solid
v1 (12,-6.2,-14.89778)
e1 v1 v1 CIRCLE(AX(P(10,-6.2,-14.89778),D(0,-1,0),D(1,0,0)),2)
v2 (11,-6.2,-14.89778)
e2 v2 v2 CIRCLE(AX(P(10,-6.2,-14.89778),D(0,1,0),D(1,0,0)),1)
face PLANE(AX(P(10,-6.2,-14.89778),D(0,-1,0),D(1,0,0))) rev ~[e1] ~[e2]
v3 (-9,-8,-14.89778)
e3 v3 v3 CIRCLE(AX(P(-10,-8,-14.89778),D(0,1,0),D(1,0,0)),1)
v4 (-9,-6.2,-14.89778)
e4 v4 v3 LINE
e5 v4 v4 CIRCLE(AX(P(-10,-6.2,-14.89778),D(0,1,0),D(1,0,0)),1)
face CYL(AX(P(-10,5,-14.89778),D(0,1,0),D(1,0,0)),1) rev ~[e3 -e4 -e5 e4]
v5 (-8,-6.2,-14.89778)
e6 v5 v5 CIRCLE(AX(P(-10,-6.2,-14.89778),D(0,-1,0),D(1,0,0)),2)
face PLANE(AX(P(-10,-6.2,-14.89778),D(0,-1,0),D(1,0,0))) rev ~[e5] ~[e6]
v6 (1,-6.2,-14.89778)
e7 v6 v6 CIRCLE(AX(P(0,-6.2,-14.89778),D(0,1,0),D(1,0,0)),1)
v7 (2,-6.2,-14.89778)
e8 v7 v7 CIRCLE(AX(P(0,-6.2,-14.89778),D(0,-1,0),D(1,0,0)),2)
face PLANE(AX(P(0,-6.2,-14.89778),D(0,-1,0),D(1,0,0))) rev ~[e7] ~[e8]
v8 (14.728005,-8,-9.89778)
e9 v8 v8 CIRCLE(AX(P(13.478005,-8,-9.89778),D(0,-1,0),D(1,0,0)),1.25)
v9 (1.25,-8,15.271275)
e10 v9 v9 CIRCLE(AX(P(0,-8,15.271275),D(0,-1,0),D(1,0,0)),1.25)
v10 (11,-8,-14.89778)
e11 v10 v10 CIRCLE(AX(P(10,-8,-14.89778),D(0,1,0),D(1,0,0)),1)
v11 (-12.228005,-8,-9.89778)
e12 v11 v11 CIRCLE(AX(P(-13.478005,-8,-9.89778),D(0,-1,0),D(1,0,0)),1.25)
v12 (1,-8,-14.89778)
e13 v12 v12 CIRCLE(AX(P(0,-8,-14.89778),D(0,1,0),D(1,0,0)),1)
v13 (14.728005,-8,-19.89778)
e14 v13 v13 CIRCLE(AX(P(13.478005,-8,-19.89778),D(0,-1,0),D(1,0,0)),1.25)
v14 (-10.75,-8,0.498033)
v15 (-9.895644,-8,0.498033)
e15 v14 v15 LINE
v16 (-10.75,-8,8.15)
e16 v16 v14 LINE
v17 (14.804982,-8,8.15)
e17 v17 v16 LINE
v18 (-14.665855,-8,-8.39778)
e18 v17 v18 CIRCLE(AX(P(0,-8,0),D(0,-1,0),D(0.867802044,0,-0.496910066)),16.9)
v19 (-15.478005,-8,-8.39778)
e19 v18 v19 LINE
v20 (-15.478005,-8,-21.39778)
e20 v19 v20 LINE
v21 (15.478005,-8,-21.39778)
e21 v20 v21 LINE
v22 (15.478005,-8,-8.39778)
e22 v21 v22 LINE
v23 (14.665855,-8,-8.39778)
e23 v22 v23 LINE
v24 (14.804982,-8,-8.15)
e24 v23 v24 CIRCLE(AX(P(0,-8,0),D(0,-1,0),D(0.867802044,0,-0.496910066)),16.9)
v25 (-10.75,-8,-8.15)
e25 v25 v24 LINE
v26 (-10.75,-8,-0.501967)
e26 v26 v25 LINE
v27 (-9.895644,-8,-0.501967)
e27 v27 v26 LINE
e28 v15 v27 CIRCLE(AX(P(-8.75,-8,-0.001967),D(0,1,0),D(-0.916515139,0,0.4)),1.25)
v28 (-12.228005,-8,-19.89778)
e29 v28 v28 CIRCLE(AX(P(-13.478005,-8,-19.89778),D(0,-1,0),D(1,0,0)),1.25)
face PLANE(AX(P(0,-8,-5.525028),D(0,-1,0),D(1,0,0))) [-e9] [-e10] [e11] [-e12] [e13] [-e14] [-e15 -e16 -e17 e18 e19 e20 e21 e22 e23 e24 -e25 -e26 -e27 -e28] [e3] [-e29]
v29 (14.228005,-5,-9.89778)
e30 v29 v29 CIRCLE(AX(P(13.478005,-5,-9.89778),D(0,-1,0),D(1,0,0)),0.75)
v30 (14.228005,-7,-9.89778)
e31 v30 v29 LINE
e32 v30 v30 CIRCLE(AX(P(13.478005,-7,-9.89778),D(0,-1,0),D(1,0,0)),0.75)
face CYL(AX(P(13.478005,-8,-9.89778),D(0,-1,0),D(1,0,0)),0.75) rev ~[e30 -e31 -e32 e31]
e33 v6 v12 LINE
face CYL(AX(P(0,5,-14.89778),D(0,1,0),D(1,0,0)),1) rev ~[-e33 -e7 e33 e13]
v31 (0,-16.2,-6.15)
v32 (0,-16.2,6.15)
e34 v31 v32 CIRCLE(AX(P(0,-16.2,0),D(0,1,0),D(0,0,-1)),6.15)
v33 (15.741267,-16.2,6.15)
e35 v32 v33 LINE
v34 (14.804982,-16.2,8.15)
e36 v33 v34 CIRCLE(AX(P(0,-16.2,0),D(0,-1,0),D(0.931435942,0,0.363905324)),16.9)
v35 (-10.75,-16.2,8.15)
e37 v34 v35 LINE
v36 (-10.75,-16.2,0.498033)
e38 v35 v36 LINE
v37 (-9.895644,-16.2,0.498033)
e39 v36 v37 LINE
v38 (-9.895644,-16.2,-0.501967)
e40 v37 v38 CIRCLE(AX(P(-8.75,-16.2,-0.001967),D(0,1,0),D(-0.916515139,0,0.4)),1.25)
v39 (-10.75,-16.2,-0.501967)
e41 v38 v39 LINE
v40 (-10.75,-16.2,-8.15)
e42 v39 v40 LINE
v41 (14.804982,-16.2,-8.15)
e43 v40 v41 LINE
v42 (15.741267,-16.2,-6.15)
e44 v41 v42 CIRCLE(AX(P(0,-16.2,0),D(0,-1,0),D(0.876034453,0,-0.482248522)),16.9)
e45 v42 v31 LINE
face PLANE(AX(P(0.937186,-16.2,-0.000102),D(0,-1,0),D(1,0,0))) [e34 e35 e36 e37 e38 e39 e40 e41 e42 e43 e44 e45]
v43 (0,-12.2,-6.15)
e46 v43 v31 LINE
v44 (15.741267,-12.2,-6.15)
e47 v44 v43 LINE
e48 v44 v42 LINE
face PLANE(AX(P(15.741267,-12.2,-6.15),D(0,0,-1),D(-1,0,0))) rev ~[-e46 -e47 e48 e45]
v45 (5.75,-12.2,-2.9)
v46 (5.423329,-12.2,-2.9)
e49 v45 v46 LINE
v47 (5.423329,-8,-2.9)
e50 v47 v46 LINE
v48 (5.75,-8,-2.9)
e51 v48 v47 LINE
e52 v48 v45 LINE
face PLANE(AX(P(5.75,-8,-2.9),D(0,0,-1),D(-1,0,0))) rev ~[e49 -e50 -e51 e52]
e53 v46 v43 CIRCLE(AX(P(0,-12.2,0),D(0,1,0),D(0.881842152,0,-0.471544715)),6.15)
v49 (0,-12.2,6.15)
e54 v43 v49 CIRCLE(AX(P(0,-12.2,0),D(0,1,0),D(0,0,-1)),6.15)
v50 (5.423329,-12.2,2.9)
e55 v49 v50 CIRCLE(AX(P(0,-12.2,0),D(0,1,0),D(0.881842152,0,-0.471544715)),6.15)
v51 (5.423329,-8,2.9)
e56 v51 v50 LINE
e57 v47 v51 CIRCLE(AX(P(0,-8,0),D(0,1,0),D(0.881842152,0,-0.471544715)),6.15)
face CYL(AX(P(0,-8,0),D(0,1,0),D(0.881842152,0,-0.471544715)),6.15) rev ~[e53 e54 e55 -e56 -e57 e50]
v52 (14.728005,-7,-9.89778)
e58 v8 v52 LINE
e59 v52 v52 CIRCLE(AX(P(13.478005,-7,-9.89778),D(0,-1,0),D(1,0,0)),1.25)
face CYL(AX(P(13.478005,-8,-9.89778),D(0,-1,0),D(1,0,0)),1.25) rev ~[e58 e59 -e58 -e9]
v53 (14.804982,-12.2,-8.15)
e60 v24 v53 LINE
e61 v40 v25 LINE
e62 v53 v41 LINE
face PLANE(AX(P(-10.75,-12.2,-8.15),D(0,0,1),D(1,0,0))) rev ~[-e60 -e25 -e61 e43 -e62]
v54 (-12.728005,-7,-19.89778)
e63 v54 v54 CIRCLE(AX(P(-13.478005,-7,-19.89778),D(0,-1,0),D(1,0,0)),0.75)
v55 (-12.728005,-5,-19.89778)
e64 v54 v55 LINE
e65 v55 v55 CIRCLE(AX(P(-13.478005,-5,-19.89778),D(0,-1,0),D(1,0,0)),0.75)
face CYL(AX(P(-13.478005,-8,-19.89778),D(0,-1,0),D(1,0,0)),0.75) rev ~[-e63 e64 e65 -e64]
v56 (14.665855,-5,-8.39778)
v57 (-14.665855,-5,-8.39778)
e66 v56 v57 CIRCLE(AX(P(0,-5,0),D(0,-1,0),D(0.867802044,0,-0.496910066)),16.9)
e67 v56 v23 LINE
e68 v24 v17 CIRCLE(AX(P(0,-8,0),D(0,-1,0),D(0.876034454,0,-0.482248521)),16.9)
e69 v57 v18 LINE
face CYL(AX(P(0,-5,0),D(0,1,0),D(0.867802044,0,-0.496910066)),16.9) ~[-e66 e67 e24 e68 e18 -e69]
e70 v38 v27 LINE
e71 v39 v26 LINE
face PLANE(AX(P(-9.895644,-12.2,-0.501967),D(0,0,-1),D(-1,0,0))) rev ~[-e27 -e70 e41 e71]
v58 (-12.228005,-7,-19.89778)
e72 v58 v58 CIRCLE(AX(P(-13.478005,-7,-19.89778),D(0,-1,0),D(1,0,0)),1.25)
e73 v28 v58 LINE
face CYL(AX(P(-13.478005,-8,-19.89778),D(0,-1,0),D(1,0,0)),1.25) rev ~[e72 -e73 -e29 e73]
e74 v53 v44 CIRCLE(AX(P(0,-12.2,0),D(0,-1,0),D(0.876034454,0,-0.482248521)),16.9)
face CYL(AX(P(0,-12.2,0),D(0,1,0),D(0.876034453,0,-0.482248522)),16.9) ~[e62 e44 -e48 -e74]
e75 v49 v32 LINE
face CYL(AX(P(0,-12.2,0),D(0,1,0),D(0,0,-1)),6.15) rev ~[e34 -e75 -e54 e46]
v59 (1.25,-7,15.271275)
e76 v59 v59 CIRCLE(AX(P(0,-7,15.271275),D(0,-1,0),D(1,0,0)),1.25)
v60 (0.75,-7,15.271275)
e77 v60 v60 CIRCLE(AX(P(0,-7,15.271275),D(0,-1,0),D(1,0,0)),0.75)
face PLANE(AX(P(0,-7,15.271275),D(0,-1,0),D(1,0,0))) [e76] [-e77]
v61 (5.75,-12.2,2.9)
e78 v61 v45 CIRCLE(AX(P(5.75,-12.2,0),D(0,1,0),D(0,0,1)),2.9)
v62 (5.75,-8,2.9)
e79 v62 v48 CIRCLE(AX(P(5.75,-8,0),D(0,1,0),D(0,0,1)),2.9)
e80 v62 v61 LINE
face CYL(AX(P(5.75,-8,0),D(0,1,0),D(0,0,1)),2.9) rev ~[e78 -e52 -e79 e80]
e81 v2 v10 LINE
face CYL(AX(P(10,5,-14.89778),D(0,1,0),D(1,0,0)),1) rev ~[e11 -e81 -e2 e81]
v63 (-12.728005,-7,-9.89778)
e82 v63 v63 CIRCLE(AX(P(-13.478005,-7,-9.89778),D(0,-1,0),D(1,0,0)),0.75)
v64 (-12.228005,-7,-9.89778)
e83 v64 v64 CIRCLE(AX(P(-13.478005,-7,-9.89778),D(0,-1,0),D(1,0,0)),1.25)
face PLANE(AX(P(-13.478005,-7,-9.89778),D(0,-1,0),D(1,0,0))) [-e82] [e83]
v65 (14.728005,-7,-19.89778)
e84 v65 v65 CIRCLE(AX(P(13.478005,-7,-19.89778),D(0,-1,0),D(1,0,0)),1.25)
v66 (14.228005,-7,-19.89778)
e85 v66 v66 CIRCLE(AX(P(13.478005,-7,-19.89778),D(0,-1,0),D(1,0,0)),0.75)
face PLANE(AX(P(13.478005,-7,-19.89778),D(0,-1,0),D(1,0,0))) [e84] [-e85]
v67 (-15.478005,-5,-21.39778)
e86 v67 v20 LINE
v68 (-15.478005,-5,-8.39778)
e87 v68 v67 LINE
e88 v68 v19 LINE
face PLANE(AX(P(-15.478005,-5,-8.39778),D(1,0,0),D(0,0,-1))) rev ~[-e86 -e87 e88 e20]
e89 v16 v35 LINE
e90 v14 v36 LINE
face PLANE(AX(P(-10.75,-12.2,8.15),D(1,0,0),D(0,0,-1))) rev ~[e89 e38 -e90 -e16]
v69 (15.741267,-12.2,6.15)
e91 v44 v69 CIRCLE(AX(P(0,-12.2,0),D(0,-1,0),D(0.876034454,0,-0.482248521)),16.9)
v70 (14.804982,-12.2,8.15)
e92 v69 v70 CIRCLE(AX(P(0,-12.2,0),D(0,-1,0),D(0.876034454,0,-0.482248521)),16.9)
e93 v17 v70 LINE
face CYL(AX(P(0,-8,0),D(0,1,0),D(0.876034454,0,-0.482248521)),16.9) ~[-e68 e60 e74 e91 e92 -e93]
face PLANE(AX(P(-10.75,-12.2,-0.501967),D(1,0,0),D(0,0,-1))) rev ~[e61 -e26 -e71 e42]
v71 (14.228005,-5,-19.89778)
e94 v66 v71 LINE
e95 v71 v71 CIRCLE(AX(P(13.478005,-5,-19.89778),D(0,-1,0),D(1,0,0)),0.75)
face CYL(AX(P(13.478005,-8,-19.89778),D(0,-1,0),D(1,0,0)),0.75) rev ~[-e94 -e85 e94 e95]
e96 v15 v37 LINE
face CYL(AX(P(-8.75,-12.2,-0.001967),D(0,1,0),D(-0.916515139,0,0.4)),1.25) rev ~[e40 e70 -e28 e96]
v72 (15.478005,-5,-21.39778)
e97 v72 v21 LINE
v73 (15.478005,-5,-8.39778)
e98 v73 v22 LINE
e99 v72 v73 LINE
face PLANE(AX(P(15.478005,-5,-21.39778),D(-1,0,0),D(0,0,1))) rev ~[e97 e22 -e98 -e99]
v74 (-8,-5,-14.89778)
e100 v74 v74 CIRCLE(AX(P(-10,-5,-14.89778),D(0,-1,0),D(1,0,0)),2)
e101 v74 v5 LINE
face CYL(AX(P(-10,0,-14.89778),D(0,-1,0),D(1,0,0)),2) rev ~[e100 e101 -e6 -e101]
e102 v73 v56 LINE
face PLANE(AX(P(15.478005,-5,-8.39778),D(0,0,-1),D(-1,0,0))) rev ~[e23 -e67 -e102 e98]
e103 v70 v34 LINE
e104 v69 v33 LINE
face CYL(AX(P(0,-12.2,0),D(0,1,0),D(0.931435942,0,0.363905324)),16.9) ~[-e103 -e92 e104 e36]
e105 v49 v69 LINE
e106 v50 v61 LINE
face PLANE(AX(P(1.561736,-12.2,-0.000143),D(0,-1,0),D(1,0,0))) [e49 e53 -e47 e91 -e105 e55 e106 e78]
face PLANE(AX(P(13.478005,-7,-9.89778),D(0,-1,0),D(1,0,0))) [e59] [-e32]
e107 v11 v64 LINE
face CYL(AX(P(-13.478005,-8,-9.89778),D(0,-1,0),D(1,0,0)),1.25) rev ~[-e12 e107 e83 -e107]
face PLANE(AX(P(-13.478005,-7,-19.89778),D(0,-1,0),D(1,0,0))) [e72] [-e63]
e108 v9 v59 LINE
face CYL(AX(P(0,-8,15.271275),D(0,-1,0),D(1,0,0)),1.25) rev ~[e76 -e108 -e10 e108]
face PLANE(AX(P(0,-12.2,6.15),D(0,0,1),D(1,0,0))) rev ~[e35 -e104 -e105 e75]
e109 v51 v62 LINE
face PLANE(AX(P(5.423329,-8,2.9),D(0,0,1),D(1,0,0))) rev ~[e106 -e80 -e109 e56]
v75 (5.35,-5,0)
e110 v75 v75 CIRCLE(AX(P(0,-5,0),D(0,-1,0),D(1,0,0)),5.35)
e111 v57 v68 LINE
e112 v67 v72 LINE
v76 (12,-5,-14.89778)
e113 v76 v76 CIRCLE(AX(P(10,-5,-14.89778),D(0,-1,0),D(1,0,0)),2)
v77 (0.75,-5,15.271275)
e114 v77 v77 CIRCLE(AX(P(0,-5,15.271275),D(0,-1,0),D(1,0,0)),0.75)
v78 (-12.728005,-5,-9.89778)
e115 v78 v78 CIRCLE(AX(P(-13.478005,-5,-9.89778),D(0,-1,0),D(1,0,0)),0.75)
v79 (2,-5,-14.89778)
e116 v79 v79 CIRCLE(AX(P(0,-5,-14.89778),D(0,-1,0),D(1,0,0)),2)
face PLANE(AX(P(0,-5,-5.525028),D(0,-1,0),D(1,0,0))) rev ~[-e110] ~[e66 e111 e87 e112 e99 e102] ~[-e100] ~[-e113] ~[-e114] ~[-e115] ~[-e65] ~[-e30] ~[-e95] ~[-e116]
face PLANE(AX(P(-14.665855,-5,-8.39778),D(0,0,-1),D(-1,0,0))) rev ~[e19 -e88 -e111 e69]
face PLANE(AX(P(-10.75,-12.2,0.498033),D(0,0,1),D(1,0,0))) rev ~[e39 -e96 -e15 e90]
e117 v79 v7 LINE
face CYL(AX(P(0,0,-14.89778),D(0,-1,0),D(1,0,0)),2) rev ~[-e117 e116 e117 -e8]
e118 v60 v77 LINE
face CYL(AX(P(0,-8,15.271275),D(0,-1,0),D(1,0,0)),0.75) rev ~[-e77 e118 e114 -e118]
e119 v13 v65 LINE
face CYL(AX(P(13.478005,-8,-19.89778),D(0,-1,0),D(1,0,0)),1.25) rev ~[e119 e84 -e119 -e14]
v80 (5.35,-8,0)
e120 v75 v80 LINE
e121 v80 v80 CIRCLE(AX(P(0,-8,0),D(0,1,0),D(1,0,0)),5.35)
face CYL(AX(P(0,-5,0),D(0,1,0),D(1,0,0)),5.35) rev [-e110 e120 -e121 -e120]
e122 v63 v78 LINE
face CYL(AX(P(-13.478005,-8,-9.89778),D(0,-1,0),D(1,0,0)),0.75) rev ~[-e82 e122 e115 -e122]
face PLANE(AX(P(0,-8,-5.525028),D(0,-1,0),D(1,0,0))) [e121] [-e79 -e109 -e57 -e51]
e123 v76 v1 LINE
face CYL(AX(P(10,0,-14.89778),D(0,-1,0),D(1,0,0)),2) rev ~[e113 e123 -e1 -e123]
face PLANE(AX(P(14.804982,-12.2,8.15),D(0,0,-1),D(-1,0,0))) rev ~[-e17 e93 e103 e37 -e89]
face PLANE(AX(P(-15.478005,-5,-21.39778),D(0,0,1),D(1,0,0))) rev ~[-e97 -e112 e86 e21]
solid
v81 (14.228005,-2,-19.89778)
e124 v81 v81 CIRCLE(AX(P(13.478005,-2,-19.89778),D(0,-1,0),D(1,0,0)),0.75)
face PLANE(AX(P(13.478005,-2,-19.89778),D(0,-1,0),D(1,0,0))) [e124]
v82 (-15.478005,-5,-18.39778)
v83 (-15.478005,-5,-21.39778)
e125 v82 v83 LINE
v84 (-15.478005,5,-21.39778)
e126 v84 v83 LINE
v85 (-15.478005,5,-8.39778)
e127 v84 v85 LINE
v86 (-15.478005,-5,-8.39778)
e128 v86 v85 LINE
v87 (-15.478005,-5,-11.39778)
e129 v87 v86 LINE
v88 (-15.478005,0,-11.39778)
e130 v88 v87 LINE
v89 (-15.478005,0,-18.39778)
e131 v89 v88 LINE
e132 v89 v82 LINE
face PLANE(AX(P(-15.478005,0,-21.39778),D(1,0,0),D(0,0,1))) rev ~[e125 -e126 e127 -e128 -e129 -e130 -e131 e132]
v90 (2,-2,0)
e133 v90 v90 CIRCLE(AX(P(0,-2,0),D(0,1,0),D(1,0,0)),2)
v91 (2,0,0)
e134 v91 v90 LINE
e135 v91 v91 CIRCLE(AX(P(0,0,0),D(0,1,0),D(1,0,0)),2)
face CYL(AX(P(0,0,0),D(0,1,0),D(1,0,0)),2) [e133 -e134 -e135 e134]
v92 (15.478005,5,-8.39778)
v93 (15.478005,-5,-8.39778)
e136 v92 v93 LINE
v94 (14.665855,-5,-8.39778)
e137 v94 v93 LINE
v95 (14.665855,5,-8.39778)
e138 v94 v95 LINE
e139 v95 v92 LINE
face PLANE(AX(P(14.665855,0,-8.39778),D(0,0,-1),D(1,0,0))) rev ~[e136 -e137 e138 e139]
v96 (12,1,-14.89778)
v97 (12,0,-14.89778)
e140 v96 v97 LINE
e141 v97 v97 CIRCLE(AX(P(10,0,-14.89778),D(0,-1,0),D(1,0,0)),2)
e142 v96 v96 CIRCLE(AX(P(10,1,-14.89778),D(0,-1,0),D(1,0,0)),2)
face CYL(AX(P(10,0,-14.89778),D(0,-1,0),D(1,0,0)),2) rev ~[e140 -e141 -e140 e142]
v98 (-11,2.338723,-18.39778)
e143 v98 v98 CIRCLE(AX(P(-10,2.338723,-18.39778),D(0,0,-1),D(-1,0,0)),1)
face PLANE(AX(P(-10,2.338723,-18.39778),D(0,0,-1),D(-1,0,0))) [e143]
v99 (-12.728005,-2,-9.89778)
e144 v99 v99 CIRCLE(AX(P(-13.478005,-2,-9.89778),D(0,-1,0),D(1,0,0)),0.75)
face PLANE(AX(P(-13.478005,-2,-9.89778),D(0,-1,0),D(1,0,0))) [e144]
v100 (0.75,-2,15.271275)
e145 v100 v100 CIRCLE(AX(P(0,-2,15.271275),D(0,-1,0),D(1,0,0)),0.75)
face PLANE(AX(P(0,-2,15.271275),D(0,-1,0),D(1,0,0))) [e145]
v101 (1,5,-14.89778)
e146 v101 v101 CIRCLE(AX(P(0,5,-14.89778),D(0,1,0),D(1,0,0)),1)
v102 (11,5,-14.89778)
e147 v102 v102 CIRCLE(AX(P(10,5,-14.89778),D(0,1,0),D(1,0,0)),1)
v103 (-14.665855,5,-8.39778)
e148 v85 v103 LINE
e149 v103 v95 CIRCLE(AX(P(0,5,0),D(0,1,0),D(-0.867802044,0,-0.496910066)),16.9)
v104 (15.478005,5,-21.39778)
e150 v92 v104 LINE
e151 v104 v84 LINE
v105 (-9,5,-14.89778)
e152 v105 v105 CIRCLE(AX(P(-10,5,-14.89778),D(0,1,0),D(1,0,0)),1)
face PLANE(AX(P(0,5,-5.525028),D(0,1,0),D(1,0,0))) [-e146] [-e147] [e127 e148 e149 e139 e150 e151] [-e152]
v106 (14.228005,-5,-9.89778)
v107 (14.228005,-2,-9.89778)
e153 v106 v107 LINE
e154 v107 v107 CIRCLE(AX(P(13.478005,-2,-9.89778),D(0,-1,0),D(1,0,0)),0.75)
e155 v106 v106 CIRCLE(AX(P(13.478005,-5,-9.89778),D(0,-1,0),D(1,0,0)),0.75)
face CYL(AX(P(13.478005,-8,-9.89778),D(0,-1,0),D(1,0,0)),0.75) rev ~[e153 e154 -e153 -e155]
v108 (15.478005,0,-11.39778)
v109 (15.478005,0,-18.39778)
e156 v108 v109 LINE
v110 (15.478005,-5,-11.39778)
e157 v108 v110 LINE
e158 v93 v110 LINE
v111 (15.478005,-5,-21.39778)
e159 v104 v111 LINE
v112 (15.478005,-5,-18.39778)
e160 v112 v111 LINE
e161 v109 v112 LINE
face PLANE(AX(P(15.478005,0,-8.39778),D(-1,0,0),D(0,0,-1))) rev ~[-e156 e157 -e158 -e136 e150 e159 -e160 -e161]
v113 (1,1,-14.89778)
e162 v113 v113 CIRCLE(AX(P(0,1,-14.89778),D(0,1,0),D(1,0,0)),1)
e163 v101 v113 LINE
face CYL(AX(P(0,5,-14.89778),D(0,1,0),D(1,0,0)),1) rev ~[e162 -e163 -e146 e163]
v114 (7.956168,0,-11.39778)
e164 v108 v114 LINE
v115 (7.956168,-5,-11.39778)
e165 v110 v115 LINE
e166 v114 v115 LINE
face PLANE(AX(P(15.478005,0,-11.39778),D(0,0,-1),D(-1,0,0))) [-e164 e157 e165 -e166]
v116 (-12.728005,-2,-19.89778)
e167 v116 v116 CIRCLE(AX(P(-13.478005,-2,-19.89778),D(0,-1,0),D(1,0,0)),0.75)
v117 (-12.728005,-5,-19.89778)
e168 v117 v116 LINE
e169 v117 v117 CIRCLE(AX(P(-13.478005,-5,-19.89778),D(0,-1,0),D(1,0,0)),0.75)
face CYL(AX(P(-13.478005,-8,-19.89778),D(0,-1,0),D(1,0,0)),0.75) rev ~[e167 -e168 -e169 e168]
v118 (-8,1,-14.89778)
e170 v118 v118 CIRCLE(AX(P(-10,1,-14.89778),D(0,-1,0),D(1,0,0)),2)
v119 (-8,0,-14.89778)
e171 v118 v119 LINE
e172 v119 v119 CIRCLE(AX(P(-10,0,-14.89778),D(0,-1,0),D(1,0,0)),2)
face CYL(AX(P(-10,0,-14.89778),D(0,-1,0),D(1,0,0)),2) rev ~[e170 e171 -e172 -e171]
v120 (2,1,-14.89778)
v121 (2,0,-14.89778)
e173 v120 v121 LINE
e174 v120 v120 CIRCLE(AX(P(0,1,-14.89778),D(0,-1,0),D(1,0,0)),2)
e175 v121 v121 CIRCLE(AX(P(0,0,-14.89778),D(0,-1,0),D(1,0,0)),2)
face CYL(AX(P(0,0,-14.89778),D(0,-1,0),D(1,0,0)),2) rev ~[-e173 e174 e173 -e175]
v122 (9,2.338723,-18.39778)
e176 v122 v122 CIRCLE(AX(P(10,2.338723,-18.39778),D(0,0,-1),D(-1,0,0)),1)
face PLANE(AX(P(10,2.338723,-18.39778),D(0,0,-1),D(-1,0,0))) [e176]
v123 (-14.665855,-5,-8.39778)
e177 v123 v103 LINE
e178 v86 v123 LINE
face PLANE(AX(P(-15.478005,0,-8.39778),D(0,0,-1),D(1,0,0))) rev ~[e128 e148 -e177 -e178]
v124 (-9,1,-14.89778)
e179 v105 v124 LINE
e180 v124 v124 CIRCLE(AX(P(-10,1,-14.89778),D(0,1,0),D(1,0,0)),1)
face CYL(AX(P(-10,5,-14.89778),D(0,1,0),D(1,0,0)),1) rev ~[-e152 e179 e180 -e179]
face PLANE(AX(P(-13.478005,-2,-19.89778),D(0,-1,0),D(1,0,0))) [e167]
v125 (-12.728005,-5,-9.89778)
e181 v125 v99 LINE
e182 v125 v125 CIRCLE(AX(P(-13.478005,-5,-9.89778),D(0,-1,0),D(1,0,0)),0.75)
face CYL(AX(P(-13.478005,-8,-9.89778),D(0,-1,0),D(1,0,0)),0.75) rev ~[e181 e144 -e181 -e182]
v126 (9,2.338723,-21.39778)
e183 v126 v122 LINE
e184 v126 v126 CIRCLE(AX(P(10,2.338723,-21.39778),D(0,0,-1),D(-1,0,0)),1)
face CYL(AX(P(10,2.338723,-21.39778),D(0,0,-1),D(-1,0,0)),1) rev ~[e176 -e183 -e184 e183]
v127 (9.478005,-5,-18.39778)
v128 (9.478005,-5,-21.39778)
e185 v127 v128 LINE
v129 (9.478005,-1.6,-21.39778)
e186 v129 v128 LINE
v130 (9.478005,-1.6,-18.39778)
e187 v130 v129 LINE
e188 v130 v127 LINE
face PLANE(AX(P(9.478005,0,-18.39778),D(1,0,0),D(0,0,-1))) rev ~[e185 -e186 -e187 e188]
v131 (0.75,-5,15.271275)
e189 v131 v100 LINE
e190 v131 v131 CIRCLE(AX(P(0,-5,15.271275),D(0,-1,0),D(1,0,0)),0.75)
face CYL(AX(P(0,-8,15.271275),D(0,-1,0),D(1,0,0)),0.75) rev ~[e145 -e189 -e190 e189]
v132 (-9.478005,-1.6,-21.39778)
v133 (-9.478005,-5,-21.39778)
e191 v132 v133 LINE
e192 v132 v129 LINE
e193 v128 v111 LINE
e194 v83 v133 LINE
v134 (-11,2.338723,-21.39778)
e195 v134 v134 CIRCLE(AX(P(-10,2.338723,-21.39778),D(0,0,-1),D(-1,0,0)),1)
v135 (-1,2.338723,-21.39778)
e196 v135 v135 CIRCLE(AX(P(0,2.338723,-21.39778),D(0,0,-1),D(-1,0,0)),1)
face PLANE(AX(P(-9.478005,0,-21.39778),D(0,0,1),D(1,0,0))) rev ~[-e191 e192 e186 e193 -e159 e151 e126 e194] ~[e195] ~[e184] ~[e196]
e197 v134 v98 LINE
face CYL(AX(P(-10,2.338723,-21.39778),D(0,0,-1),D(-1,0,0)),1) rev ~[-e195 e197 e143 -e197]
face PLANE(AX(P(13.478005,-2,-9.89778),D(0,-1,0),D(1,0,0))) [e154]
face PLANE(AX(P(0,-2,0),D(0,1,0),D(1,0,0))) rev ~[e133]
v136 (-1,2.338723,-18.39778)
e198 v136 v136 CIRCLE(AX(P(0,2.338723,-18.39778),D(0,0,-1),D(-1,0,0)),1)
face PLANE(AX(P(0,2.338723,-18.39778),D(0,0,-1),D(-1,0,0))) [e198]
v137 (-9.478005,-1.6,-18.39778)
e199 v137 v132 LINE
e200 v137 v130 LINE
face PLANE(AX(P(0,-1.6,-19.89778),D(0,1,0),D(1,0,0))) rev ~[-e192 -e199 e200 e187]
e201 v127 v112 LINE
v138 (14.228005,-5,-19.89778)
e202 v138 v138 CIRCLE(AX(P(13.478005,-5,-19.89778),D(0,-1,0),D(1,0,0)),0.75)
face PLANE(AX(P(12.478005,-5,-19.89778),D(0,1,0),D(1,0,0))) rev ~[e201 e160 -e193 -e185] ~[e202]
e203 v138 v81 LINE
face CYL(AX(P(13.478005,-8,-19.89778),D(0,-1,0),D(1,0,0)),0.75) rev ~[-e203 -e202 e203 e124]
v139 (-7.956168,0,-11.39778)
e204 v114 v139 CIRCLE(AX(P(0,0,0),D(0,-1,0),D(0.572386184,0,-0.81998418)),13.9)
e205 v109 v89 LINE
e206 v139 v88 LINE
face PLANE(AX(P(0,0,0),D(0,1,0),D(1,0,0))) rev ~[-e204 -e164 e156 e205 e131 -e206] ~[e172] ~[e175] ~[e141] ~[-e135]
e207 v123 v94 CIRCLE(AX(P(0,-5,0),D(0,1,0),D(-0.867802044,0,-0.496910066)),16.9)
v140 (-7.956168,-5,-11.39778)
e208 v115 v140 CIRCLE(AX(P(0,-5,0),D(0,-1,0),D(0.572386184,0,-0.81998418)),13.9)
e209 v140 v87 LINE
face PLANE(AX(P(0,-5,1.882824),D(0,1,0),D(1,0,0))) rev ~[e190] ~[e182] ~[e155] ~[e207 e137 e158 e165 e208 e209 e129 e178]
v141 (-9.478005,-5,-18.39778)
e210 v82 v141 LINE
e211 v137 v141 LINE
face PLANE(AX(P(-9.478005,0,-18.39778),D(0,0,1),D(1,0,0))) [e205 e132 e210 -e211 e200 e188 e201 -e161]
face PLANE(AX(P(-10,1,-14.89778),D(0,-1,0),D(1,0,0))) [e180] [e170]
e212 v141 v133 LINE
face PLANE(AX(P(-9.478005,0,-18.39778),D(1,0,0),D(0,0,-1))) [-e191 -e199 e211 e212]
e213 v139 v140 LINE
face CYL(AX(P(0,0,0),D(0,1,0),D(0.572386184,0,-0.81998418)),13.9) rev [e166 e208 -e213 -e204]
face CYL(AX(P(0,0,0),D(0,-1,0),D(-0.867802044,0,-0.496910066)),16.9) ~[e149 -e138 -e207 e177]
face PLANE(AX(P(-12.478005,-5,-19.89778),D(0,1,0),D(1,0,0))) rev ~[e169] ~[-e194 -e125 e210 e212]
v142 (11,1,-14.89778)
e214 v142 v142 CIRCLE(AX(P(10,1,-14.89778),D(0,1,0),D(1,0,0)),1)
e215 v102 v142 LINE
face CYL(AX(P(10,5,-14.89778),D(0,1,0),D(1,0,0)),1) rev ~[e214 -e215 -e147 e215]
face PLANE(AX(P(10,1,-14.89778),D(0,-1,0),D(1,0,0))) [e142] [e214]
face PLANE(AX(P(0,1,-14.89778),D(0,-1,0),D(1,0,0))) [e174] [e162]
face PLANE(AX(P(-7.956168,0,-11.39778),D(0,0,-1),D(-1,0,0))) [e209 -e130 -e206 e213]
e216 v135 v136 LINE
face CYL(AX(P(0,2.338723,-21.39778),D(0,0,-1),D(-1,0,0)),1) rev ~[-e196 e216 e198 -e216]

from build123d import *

# Parameters (mm, degrees)
BOSS_EXTRUDE1_DEPTH      = 5
SKETCH1_W                = 6
SKETCH1_H                = 3
BOSS_EXTRUDE1_2_DEPTH    = 5
BOSS_EXTRUDE1_3_DEPTH    = 5
SKETCH1_4_R              = 2
BOSS_EXTRUDE2_DEPTH      = 5
SKETCH1_7_R              = 2
BOSS_EXTRUDE6_DEPTH      = 5
BOSS_EXTRUDE6_DEPTH_BACK = 2
BOSS_EXTRUDE7_DEPTH      = 3
SKETCH5_R                = 1
CUT_EXTRUDE1_DEPTH       = 15
SKETCH6_R                = 2
CUT_EXTRUDE2_DEPTH       = 6.2
CUT_EXTRUDE2_DEPTH_BACK  = 1
SKETCH1_9_W              = 18.956009986
SKETCH1_9_H              = 3
BOSS_EXTRUDE9_DEPTH      = 1.6
SKETCH3_5_R              = 5.35
CUT_EXTRUDE3_DEPTH       = 5
SKETCH11_R               = 0.75
CUT_EXTRUDE5_DEPTH       = 6
BOSS_EXTRUDE11_DEPTH     = 4.2
BOSS_EXTRUDE12_DEPTH     = 4
SKETCH11_4_R             = 1.25
SKETCH11_4_R_2           = 0.75
CUT_EXTRUDE6_DEPTH       = 1
SKETCH15_R               = 1
CUT_EXTRUDE7_DEPTH       = 3


with BuildPart() as part:
    # Sketch1 → Boss-Extrude1 (new body)
    with BuildSketch(Plane(origin=(0, 0, 0), x_dir=(1, 0, 0), z_dir=(0, 1, 0))):
        with BuildLine():
            Line((-15.478004993, 8.397780108), (-14.665854535, 8.397780108))
            ThreePointArc((-14.665854535, 8.397780108), (0, -16.9), (14.665854535, 8.397780108))
            Line((14.665854535, 8.397780108), (15.478004993, 8.397780108))
            Line((15.478004993, 8.397780108), (15.478004993, 11.397780108))
            Line((15.478004993, 11.397780108), (7.956167959, 11.397780108))
            ThreePointArc((7.956167959, 11.397780108), (0, -13.9), (-7.956167959, 11.397780108))
            Line((-7.956167959, 11.397780108), (-15.478004993, 11.397780108))
            Line((-15.478004993, 11.397780108), (-15.478004993, 8.397780108))
        make_face()
    extrude(amount=-BOSS_EXTRUDE1_DEPTH)



with BuildPart() as body_2:
    # Sketch1 → Boss-Extrude1 2 (new body)
    with BuildSketch(Plane(origin=(0, 0, 0), x_dir=(1, 0, 0), z_dir=(0, 1, 0))):
        with Locations((-12.478004993, 19.897780108)):
            Rectangle(SKETCH1_W, SKETCH1_H)
    extrude(amount=-BOSS_EXTRUDE1_2_DEPTH)


with BuildPart() as body_3:
    # Sketch1 → Boss-Extrude1 3 (new body)
    with BuildSketch(Plane(origin=(0, 0, 0), x_dir=(1, 0, 0), z_dir=(0, 1, 0))):
        with Locations((12.478004993, 19.897780108)):
            Rectangle(SKETCH1_W, SKETCH1_H)
    extrude(amount=-BOSS_EXTRUDE1_3_DEPTH)


with BuildPart() as part_1:
    add(part.part)

    add(body_2.part)  # Boss-Extrude2 merges body 2

    add(body_3.part)  # Boss-Extrude2 merges body 3
    # Sketch1<4> → Boss-Extrude2 (add)
    with BuildSketch(Plane(origin=(0, 0, 0), x_dir=(1, 0, 0), z_dir=(0, 1, 0))):
        with BuildLine():
            Line((-15.478004993, 21.397780108), (-15.478004993, 8.397780108))
            Line((-15.478004993, 8.397780108), (-14.665854535, 8.397780108))
            ThreePointArc((-14.665854535, 8.397780108), (0, -16.9), (14.665854535, 8.397780108))
            Line((14.665854535, 8.397780108), (15.478004993, 8.397780108))
            Line((15.478004993, 8.397780108), (15.478004993, 21.397780108))
            Line((15.478004993, 21.397780108), (-15.478004993, 21.397780108))
        make_face()
        Circle(SKETCH1_4_R, mode=Mode.SUBTRACT)
    extrude(amount=BOSS_EXTRUDE2_DEPTH)

    # Sketch1<7> → Boss-Extrude6 (add, two sides)
    with BuildSketch(Plane(origin=(0, 0, 0), x_dir=(1, 0, 0), z_dir=(0, 1, 0))) as boss_extrude6_sk:
        Circle(SKETCH1_7_R)
    extrude(amount=BOSS_EXTRUDE6_DEPTH)
    extrude(boss_extrude6_sk.sketch, amount=-BOSS_EXTRUDE6_DEPTH_BACK)


with BuildPart() as body_2_2:
    # Sketch3 → Boss-Extrude7 (new body)
    with BuildSketch(Plane.XZ.offset(5)):
        with BuildLine():
            Line((-14.665854535, -8.397780108), (-15.478004993, -8.397780108))
            Line((-15.478004993, -8.397780108), (-15.478004993, -21.397780108))
            Line((-15.478004993, -21.397780108), (15.478004993, -21.397780108))
            Line((15.478004993, -21.397780108), (15.478004993, -8.397780108))
            Line((15.478004993, -8.397780108), (14.665854535, -8.397780108))
            ThreePointArc((14.665854535, -8.397780108), (0, 16.9), (-14.665854535, -8.397780108))
        make_face()
    extrude(amount=BOSS_EXTRUDE7_DEPTH)


with BuildPart() as cut_extrude1_tool:
    # Sketch5 → Cut-Extrude1 (new body)
    with BuildSketch(Plane(origin=(0, 5, 0), x_dir=(1, 0, 0), z_dir=(0, 1, 0))):
        with Locations((0, 14.897780108)):
            Circle(SKETCH5_R)
        with Locations((10, 14.897780108)):
            Circle(SKETCH5_R)
        with Locations((-10, 14.897780108)):
            Circle(SKETCH5_R)
    extrude(amount=-CUT_EXTRUDE1_DEPTH)


with BuildPart() as part_2:
    add(part_1.part)

    # Cut-Extrude1: cut by cut_extrude1_tool
    add(cut_extrude1_tool.part, mode=Mode.SUBTRACT)


with BuildPart() as body_2_2_1:
    add(body_2_2.part)

    # Cut-Extrude1: cut by cut_extrude1_tool
    add(cut_extrude1_tool.part, mode=Mode.SUBTRACT)


with BuildPart() as cut_extrude2_tool:
    # Sketch6 → Cut-Extrude2 (new body, two sides)
    with BuildSketch(Plane.XZ) as cut_extrude2_sk:
        with Locations((-10, -14.897780108)):
            Circle(SKETCH6_R)
        with Locations((0, -14.897780108)):
            Circle(SKETCH6_R)
        with Locations((10, -14.897780108)):
            Circle(SKETCH6_R)
    extrude(amount=CUT_EXTRUDE2_DEPTH)
    extrude(cut_extrude2_sk.sketch, amount=-CUT_EXTRUDE2_DEPTH_BACK)


with BuildPart() as part_3:
    add(part_2.part)

    # Cut-Extrude2: cut by cut_extrude2_tool
    add(cut_extrude2_tool.part, mode=Mode.SUBTRACT)

    # Sketch1<9> → Boss-Extrude9 (add)
    with BuildSketch(Plane(origin=(0, 0, 0), x_dir=(1, 0, 0), z_dir=(0, 1, 0))):
        with Locations((0, 19.897780108)):
            Rectangle(SKETCH1_9_W, SKETCH1_9_H)
    extrude(amount=-BOSS_EXTRUDE9_DEPTH)


with BuildPart() as body_2_2_2:
    add(body_2_2_1.part)

    # Cut-Extrude2: cut by cut_extrude2_tool
    add(cut_extrude2_tool.part, mode=Mode.SUBTRACT)

    # Sketch3<5> → Cut-Extrude3 (cut)
    with BuildSketch(Plane.XZ.offset(5)):
        Circle(SKETCH3_5_R)
    extrude(amount=CUT_EXTRUDE3_DEPTH, mode=Mode.SUBTRACT)


with BuildPart() as cut_extrude5_tool:
    # Sketch11 → Cut-Extrude5 (new body)
    with BuildSketch(Plane.XZ.offset(8)):
        with Locations((-13.478004993, -9.897780108)):
            Circle(SKETCH11_R)
        with Locations((13.478004993, -9.897780108)):
            Circle(SKETCH11_R)
        with Locations((13.478004993, -19.897780108)):
            Circle(SKETCH11_R)
        with Locations((-13.478004993, -19.897780108)):
            Circle(SKETCH11_R)
        with Locations((0, 15.271275141)):
            Circle(SKETCH11_R)
    extrude(amount=-CUT_EXTRUDE5_DEPTH)


with BuildPart() as part_4:
    add(part_3.part)

    # Cut-Extrude5: cut by cut_extrude5_tool
    add(cut_extrude5_tool.part, mode=Mode.SUBTRACT)

    # Sketch15 → Cut-Extrude7 (cut)
    with BuildSketch(Plane(origin=(0, 0, -21.397780108), x_dir=(-1, 0, 0), z_dir=(0, 0, -1))):
        with Locations((0, 2.33872342)):
            Circle(SKETCH15_R)
        with Locations((10, 2.33872342)):
            Circle(SKETCH15_R)
        with Locations((-10, 2.33872342)):
            Circle(SKETCH15_R)
    extrude(amount=-CUT_EXTRUDE7_DEPTH, mode=Mode.SUBTRACT)


with BuildPart() as body_2_2_3:
    add(body_2_2_2.part)

    # Cut-Extrude5: cut by cut_extrude5_tool
    add(cut_extrude5_tool.part, mode=Mode.SUBTRACT)

    # Sketch12 → Boss-Extrude11 (add)
    with BuildSketch(Plane.XZ.offset(8)):
        with BuildLine():
            Line((-10.75, -8.15), (14.804982269, -8.15))
            ThreePointArc((14.804982269, -8.15), (16.9, 0), (14.804982269, 8.15))
            Line((14.804982269, 8.15), (-10.75, 8.15))
            Line((-10.75, 8.15), (-10.75, 0.49803322))
            Line((-10.75, 0.49803322), (-9.895643924, 0.49803322))
            ThreePointArc((-9.895643924, 0.49803322), (-7.5, -0.00196678), (-9.895643924, -0.50196678))
            Line((-9.895643924, -0.50196678), (-10.75, -0.50196678))
            Line((-10.75, -0.50196678), (-10.75, -8.15))
        make_face()
        with BuildLine():
            Line((5.423329236, 2.9), (5.75, 2.9))
            ThreePointArc((5.75, 2.9), (8.65, 0), (5.75, -2.9))
            Line((5.75, -2.9), (5.423329236, -2.9))
            ThreePointArc((5.423329236, -2.9), (-6.15, 0), (5.423329236, 2.9))
        make_face(mode=Mode.SUBTRACT)
    extrude(amount=BOSS_EXTRUDE11_DEPTH)

    # Sketch13 → Boss-Extrude12 (add)
    with BuildSketch(Plane.XZ.offset(12.2)):
        with BuildLine():
            Line((-10.75, -8.15), (14.804982269, -8.15))
            ThreePointArc((14.804982269, -8.15), (15.305827078, -7.165309307), (15.74126742, -6.15))
            Line((15.74126742, -6.15), (0, -6.15))
            ThreePointArc((0, -6.15), (-6.15, 1e-08), (2.1e-08, 6.15))
            Line((2.1e-08, 6.15), (15.74126742, 6.15))
            ThreePointArc((15.74126742, 6.15), (15.305827078, 7.165309307), (14.804982269, 8.15))
            Line((14.804982269, 8.15), (-10.75, 8.15))
            Line((-10.75, 8.15), (-10.75, 0.49803322))
            Line((-10.75, 0.49803322), (-9.895643924, 0.49803322))
            ThreePointArc((-9.895643924, 0.49803322), (-7.5, -0.00196678), (-9.895643924, -0.50196678))
            Line((-9.895643924, -0.50196678), (-10.75, -0.50196678))
            Line((-10.75, -0.50196678), (-10.75, -8.15))
        make_face()
    extrude(amount=BOSS_EXTRUDE12_DEPTH)

    # Sketch11<4> → Cut-Extrude6 (cut)
    with BuildSketch(Plane.XZ.offset(8)):
        with Locations((13.478004993, -19.897780108)):
            Circle(SKETCH11_4_R)
        with Locations((13.478004993, -19.897780108)):
            Circle(SKETCH11_4_R_2, mode=Mode.SUBTRACT)
        with Locations((13.478004993, -9.897780108)):
            Circle(SKETCH11_4_R)
        with Locations((13.478004993, -9.897780108)):
            Circle(SKETCH11_4_R_2, mode=Mode.SUBTRACT)
        with Locations((-13.478004993, -9.897780108)):
            Circle(SKETCH11_4_R)
        with Locations((-13.478004993, -9.897780108)):
            Circle(SKETCH11_4_R_2, mode=Mode.SUBTRACT)
        with Locations((-13.478004993, -19.897780108)):
            Circle(SKETCH11_4_R)
        with Locations((-13.478004993, -19.897780108)):
            Circle(SKETCH11_4_R_2, mode=Mode.SUBTRACT)
        with Locations((0, 15.271275141)):
            Circle(SKETCH11_4_R)
        with Locations((0, 15.271275141)):
            Circle(SKETCH11_4_R_2, mode=Mode.SUBTRACT)
    extrude(amount=-CUT_EXTRUDE6_DEPTH, mode=Mode.SUBTRACT)


solid = Compound([part_4.part, body_2_2_3.part])
